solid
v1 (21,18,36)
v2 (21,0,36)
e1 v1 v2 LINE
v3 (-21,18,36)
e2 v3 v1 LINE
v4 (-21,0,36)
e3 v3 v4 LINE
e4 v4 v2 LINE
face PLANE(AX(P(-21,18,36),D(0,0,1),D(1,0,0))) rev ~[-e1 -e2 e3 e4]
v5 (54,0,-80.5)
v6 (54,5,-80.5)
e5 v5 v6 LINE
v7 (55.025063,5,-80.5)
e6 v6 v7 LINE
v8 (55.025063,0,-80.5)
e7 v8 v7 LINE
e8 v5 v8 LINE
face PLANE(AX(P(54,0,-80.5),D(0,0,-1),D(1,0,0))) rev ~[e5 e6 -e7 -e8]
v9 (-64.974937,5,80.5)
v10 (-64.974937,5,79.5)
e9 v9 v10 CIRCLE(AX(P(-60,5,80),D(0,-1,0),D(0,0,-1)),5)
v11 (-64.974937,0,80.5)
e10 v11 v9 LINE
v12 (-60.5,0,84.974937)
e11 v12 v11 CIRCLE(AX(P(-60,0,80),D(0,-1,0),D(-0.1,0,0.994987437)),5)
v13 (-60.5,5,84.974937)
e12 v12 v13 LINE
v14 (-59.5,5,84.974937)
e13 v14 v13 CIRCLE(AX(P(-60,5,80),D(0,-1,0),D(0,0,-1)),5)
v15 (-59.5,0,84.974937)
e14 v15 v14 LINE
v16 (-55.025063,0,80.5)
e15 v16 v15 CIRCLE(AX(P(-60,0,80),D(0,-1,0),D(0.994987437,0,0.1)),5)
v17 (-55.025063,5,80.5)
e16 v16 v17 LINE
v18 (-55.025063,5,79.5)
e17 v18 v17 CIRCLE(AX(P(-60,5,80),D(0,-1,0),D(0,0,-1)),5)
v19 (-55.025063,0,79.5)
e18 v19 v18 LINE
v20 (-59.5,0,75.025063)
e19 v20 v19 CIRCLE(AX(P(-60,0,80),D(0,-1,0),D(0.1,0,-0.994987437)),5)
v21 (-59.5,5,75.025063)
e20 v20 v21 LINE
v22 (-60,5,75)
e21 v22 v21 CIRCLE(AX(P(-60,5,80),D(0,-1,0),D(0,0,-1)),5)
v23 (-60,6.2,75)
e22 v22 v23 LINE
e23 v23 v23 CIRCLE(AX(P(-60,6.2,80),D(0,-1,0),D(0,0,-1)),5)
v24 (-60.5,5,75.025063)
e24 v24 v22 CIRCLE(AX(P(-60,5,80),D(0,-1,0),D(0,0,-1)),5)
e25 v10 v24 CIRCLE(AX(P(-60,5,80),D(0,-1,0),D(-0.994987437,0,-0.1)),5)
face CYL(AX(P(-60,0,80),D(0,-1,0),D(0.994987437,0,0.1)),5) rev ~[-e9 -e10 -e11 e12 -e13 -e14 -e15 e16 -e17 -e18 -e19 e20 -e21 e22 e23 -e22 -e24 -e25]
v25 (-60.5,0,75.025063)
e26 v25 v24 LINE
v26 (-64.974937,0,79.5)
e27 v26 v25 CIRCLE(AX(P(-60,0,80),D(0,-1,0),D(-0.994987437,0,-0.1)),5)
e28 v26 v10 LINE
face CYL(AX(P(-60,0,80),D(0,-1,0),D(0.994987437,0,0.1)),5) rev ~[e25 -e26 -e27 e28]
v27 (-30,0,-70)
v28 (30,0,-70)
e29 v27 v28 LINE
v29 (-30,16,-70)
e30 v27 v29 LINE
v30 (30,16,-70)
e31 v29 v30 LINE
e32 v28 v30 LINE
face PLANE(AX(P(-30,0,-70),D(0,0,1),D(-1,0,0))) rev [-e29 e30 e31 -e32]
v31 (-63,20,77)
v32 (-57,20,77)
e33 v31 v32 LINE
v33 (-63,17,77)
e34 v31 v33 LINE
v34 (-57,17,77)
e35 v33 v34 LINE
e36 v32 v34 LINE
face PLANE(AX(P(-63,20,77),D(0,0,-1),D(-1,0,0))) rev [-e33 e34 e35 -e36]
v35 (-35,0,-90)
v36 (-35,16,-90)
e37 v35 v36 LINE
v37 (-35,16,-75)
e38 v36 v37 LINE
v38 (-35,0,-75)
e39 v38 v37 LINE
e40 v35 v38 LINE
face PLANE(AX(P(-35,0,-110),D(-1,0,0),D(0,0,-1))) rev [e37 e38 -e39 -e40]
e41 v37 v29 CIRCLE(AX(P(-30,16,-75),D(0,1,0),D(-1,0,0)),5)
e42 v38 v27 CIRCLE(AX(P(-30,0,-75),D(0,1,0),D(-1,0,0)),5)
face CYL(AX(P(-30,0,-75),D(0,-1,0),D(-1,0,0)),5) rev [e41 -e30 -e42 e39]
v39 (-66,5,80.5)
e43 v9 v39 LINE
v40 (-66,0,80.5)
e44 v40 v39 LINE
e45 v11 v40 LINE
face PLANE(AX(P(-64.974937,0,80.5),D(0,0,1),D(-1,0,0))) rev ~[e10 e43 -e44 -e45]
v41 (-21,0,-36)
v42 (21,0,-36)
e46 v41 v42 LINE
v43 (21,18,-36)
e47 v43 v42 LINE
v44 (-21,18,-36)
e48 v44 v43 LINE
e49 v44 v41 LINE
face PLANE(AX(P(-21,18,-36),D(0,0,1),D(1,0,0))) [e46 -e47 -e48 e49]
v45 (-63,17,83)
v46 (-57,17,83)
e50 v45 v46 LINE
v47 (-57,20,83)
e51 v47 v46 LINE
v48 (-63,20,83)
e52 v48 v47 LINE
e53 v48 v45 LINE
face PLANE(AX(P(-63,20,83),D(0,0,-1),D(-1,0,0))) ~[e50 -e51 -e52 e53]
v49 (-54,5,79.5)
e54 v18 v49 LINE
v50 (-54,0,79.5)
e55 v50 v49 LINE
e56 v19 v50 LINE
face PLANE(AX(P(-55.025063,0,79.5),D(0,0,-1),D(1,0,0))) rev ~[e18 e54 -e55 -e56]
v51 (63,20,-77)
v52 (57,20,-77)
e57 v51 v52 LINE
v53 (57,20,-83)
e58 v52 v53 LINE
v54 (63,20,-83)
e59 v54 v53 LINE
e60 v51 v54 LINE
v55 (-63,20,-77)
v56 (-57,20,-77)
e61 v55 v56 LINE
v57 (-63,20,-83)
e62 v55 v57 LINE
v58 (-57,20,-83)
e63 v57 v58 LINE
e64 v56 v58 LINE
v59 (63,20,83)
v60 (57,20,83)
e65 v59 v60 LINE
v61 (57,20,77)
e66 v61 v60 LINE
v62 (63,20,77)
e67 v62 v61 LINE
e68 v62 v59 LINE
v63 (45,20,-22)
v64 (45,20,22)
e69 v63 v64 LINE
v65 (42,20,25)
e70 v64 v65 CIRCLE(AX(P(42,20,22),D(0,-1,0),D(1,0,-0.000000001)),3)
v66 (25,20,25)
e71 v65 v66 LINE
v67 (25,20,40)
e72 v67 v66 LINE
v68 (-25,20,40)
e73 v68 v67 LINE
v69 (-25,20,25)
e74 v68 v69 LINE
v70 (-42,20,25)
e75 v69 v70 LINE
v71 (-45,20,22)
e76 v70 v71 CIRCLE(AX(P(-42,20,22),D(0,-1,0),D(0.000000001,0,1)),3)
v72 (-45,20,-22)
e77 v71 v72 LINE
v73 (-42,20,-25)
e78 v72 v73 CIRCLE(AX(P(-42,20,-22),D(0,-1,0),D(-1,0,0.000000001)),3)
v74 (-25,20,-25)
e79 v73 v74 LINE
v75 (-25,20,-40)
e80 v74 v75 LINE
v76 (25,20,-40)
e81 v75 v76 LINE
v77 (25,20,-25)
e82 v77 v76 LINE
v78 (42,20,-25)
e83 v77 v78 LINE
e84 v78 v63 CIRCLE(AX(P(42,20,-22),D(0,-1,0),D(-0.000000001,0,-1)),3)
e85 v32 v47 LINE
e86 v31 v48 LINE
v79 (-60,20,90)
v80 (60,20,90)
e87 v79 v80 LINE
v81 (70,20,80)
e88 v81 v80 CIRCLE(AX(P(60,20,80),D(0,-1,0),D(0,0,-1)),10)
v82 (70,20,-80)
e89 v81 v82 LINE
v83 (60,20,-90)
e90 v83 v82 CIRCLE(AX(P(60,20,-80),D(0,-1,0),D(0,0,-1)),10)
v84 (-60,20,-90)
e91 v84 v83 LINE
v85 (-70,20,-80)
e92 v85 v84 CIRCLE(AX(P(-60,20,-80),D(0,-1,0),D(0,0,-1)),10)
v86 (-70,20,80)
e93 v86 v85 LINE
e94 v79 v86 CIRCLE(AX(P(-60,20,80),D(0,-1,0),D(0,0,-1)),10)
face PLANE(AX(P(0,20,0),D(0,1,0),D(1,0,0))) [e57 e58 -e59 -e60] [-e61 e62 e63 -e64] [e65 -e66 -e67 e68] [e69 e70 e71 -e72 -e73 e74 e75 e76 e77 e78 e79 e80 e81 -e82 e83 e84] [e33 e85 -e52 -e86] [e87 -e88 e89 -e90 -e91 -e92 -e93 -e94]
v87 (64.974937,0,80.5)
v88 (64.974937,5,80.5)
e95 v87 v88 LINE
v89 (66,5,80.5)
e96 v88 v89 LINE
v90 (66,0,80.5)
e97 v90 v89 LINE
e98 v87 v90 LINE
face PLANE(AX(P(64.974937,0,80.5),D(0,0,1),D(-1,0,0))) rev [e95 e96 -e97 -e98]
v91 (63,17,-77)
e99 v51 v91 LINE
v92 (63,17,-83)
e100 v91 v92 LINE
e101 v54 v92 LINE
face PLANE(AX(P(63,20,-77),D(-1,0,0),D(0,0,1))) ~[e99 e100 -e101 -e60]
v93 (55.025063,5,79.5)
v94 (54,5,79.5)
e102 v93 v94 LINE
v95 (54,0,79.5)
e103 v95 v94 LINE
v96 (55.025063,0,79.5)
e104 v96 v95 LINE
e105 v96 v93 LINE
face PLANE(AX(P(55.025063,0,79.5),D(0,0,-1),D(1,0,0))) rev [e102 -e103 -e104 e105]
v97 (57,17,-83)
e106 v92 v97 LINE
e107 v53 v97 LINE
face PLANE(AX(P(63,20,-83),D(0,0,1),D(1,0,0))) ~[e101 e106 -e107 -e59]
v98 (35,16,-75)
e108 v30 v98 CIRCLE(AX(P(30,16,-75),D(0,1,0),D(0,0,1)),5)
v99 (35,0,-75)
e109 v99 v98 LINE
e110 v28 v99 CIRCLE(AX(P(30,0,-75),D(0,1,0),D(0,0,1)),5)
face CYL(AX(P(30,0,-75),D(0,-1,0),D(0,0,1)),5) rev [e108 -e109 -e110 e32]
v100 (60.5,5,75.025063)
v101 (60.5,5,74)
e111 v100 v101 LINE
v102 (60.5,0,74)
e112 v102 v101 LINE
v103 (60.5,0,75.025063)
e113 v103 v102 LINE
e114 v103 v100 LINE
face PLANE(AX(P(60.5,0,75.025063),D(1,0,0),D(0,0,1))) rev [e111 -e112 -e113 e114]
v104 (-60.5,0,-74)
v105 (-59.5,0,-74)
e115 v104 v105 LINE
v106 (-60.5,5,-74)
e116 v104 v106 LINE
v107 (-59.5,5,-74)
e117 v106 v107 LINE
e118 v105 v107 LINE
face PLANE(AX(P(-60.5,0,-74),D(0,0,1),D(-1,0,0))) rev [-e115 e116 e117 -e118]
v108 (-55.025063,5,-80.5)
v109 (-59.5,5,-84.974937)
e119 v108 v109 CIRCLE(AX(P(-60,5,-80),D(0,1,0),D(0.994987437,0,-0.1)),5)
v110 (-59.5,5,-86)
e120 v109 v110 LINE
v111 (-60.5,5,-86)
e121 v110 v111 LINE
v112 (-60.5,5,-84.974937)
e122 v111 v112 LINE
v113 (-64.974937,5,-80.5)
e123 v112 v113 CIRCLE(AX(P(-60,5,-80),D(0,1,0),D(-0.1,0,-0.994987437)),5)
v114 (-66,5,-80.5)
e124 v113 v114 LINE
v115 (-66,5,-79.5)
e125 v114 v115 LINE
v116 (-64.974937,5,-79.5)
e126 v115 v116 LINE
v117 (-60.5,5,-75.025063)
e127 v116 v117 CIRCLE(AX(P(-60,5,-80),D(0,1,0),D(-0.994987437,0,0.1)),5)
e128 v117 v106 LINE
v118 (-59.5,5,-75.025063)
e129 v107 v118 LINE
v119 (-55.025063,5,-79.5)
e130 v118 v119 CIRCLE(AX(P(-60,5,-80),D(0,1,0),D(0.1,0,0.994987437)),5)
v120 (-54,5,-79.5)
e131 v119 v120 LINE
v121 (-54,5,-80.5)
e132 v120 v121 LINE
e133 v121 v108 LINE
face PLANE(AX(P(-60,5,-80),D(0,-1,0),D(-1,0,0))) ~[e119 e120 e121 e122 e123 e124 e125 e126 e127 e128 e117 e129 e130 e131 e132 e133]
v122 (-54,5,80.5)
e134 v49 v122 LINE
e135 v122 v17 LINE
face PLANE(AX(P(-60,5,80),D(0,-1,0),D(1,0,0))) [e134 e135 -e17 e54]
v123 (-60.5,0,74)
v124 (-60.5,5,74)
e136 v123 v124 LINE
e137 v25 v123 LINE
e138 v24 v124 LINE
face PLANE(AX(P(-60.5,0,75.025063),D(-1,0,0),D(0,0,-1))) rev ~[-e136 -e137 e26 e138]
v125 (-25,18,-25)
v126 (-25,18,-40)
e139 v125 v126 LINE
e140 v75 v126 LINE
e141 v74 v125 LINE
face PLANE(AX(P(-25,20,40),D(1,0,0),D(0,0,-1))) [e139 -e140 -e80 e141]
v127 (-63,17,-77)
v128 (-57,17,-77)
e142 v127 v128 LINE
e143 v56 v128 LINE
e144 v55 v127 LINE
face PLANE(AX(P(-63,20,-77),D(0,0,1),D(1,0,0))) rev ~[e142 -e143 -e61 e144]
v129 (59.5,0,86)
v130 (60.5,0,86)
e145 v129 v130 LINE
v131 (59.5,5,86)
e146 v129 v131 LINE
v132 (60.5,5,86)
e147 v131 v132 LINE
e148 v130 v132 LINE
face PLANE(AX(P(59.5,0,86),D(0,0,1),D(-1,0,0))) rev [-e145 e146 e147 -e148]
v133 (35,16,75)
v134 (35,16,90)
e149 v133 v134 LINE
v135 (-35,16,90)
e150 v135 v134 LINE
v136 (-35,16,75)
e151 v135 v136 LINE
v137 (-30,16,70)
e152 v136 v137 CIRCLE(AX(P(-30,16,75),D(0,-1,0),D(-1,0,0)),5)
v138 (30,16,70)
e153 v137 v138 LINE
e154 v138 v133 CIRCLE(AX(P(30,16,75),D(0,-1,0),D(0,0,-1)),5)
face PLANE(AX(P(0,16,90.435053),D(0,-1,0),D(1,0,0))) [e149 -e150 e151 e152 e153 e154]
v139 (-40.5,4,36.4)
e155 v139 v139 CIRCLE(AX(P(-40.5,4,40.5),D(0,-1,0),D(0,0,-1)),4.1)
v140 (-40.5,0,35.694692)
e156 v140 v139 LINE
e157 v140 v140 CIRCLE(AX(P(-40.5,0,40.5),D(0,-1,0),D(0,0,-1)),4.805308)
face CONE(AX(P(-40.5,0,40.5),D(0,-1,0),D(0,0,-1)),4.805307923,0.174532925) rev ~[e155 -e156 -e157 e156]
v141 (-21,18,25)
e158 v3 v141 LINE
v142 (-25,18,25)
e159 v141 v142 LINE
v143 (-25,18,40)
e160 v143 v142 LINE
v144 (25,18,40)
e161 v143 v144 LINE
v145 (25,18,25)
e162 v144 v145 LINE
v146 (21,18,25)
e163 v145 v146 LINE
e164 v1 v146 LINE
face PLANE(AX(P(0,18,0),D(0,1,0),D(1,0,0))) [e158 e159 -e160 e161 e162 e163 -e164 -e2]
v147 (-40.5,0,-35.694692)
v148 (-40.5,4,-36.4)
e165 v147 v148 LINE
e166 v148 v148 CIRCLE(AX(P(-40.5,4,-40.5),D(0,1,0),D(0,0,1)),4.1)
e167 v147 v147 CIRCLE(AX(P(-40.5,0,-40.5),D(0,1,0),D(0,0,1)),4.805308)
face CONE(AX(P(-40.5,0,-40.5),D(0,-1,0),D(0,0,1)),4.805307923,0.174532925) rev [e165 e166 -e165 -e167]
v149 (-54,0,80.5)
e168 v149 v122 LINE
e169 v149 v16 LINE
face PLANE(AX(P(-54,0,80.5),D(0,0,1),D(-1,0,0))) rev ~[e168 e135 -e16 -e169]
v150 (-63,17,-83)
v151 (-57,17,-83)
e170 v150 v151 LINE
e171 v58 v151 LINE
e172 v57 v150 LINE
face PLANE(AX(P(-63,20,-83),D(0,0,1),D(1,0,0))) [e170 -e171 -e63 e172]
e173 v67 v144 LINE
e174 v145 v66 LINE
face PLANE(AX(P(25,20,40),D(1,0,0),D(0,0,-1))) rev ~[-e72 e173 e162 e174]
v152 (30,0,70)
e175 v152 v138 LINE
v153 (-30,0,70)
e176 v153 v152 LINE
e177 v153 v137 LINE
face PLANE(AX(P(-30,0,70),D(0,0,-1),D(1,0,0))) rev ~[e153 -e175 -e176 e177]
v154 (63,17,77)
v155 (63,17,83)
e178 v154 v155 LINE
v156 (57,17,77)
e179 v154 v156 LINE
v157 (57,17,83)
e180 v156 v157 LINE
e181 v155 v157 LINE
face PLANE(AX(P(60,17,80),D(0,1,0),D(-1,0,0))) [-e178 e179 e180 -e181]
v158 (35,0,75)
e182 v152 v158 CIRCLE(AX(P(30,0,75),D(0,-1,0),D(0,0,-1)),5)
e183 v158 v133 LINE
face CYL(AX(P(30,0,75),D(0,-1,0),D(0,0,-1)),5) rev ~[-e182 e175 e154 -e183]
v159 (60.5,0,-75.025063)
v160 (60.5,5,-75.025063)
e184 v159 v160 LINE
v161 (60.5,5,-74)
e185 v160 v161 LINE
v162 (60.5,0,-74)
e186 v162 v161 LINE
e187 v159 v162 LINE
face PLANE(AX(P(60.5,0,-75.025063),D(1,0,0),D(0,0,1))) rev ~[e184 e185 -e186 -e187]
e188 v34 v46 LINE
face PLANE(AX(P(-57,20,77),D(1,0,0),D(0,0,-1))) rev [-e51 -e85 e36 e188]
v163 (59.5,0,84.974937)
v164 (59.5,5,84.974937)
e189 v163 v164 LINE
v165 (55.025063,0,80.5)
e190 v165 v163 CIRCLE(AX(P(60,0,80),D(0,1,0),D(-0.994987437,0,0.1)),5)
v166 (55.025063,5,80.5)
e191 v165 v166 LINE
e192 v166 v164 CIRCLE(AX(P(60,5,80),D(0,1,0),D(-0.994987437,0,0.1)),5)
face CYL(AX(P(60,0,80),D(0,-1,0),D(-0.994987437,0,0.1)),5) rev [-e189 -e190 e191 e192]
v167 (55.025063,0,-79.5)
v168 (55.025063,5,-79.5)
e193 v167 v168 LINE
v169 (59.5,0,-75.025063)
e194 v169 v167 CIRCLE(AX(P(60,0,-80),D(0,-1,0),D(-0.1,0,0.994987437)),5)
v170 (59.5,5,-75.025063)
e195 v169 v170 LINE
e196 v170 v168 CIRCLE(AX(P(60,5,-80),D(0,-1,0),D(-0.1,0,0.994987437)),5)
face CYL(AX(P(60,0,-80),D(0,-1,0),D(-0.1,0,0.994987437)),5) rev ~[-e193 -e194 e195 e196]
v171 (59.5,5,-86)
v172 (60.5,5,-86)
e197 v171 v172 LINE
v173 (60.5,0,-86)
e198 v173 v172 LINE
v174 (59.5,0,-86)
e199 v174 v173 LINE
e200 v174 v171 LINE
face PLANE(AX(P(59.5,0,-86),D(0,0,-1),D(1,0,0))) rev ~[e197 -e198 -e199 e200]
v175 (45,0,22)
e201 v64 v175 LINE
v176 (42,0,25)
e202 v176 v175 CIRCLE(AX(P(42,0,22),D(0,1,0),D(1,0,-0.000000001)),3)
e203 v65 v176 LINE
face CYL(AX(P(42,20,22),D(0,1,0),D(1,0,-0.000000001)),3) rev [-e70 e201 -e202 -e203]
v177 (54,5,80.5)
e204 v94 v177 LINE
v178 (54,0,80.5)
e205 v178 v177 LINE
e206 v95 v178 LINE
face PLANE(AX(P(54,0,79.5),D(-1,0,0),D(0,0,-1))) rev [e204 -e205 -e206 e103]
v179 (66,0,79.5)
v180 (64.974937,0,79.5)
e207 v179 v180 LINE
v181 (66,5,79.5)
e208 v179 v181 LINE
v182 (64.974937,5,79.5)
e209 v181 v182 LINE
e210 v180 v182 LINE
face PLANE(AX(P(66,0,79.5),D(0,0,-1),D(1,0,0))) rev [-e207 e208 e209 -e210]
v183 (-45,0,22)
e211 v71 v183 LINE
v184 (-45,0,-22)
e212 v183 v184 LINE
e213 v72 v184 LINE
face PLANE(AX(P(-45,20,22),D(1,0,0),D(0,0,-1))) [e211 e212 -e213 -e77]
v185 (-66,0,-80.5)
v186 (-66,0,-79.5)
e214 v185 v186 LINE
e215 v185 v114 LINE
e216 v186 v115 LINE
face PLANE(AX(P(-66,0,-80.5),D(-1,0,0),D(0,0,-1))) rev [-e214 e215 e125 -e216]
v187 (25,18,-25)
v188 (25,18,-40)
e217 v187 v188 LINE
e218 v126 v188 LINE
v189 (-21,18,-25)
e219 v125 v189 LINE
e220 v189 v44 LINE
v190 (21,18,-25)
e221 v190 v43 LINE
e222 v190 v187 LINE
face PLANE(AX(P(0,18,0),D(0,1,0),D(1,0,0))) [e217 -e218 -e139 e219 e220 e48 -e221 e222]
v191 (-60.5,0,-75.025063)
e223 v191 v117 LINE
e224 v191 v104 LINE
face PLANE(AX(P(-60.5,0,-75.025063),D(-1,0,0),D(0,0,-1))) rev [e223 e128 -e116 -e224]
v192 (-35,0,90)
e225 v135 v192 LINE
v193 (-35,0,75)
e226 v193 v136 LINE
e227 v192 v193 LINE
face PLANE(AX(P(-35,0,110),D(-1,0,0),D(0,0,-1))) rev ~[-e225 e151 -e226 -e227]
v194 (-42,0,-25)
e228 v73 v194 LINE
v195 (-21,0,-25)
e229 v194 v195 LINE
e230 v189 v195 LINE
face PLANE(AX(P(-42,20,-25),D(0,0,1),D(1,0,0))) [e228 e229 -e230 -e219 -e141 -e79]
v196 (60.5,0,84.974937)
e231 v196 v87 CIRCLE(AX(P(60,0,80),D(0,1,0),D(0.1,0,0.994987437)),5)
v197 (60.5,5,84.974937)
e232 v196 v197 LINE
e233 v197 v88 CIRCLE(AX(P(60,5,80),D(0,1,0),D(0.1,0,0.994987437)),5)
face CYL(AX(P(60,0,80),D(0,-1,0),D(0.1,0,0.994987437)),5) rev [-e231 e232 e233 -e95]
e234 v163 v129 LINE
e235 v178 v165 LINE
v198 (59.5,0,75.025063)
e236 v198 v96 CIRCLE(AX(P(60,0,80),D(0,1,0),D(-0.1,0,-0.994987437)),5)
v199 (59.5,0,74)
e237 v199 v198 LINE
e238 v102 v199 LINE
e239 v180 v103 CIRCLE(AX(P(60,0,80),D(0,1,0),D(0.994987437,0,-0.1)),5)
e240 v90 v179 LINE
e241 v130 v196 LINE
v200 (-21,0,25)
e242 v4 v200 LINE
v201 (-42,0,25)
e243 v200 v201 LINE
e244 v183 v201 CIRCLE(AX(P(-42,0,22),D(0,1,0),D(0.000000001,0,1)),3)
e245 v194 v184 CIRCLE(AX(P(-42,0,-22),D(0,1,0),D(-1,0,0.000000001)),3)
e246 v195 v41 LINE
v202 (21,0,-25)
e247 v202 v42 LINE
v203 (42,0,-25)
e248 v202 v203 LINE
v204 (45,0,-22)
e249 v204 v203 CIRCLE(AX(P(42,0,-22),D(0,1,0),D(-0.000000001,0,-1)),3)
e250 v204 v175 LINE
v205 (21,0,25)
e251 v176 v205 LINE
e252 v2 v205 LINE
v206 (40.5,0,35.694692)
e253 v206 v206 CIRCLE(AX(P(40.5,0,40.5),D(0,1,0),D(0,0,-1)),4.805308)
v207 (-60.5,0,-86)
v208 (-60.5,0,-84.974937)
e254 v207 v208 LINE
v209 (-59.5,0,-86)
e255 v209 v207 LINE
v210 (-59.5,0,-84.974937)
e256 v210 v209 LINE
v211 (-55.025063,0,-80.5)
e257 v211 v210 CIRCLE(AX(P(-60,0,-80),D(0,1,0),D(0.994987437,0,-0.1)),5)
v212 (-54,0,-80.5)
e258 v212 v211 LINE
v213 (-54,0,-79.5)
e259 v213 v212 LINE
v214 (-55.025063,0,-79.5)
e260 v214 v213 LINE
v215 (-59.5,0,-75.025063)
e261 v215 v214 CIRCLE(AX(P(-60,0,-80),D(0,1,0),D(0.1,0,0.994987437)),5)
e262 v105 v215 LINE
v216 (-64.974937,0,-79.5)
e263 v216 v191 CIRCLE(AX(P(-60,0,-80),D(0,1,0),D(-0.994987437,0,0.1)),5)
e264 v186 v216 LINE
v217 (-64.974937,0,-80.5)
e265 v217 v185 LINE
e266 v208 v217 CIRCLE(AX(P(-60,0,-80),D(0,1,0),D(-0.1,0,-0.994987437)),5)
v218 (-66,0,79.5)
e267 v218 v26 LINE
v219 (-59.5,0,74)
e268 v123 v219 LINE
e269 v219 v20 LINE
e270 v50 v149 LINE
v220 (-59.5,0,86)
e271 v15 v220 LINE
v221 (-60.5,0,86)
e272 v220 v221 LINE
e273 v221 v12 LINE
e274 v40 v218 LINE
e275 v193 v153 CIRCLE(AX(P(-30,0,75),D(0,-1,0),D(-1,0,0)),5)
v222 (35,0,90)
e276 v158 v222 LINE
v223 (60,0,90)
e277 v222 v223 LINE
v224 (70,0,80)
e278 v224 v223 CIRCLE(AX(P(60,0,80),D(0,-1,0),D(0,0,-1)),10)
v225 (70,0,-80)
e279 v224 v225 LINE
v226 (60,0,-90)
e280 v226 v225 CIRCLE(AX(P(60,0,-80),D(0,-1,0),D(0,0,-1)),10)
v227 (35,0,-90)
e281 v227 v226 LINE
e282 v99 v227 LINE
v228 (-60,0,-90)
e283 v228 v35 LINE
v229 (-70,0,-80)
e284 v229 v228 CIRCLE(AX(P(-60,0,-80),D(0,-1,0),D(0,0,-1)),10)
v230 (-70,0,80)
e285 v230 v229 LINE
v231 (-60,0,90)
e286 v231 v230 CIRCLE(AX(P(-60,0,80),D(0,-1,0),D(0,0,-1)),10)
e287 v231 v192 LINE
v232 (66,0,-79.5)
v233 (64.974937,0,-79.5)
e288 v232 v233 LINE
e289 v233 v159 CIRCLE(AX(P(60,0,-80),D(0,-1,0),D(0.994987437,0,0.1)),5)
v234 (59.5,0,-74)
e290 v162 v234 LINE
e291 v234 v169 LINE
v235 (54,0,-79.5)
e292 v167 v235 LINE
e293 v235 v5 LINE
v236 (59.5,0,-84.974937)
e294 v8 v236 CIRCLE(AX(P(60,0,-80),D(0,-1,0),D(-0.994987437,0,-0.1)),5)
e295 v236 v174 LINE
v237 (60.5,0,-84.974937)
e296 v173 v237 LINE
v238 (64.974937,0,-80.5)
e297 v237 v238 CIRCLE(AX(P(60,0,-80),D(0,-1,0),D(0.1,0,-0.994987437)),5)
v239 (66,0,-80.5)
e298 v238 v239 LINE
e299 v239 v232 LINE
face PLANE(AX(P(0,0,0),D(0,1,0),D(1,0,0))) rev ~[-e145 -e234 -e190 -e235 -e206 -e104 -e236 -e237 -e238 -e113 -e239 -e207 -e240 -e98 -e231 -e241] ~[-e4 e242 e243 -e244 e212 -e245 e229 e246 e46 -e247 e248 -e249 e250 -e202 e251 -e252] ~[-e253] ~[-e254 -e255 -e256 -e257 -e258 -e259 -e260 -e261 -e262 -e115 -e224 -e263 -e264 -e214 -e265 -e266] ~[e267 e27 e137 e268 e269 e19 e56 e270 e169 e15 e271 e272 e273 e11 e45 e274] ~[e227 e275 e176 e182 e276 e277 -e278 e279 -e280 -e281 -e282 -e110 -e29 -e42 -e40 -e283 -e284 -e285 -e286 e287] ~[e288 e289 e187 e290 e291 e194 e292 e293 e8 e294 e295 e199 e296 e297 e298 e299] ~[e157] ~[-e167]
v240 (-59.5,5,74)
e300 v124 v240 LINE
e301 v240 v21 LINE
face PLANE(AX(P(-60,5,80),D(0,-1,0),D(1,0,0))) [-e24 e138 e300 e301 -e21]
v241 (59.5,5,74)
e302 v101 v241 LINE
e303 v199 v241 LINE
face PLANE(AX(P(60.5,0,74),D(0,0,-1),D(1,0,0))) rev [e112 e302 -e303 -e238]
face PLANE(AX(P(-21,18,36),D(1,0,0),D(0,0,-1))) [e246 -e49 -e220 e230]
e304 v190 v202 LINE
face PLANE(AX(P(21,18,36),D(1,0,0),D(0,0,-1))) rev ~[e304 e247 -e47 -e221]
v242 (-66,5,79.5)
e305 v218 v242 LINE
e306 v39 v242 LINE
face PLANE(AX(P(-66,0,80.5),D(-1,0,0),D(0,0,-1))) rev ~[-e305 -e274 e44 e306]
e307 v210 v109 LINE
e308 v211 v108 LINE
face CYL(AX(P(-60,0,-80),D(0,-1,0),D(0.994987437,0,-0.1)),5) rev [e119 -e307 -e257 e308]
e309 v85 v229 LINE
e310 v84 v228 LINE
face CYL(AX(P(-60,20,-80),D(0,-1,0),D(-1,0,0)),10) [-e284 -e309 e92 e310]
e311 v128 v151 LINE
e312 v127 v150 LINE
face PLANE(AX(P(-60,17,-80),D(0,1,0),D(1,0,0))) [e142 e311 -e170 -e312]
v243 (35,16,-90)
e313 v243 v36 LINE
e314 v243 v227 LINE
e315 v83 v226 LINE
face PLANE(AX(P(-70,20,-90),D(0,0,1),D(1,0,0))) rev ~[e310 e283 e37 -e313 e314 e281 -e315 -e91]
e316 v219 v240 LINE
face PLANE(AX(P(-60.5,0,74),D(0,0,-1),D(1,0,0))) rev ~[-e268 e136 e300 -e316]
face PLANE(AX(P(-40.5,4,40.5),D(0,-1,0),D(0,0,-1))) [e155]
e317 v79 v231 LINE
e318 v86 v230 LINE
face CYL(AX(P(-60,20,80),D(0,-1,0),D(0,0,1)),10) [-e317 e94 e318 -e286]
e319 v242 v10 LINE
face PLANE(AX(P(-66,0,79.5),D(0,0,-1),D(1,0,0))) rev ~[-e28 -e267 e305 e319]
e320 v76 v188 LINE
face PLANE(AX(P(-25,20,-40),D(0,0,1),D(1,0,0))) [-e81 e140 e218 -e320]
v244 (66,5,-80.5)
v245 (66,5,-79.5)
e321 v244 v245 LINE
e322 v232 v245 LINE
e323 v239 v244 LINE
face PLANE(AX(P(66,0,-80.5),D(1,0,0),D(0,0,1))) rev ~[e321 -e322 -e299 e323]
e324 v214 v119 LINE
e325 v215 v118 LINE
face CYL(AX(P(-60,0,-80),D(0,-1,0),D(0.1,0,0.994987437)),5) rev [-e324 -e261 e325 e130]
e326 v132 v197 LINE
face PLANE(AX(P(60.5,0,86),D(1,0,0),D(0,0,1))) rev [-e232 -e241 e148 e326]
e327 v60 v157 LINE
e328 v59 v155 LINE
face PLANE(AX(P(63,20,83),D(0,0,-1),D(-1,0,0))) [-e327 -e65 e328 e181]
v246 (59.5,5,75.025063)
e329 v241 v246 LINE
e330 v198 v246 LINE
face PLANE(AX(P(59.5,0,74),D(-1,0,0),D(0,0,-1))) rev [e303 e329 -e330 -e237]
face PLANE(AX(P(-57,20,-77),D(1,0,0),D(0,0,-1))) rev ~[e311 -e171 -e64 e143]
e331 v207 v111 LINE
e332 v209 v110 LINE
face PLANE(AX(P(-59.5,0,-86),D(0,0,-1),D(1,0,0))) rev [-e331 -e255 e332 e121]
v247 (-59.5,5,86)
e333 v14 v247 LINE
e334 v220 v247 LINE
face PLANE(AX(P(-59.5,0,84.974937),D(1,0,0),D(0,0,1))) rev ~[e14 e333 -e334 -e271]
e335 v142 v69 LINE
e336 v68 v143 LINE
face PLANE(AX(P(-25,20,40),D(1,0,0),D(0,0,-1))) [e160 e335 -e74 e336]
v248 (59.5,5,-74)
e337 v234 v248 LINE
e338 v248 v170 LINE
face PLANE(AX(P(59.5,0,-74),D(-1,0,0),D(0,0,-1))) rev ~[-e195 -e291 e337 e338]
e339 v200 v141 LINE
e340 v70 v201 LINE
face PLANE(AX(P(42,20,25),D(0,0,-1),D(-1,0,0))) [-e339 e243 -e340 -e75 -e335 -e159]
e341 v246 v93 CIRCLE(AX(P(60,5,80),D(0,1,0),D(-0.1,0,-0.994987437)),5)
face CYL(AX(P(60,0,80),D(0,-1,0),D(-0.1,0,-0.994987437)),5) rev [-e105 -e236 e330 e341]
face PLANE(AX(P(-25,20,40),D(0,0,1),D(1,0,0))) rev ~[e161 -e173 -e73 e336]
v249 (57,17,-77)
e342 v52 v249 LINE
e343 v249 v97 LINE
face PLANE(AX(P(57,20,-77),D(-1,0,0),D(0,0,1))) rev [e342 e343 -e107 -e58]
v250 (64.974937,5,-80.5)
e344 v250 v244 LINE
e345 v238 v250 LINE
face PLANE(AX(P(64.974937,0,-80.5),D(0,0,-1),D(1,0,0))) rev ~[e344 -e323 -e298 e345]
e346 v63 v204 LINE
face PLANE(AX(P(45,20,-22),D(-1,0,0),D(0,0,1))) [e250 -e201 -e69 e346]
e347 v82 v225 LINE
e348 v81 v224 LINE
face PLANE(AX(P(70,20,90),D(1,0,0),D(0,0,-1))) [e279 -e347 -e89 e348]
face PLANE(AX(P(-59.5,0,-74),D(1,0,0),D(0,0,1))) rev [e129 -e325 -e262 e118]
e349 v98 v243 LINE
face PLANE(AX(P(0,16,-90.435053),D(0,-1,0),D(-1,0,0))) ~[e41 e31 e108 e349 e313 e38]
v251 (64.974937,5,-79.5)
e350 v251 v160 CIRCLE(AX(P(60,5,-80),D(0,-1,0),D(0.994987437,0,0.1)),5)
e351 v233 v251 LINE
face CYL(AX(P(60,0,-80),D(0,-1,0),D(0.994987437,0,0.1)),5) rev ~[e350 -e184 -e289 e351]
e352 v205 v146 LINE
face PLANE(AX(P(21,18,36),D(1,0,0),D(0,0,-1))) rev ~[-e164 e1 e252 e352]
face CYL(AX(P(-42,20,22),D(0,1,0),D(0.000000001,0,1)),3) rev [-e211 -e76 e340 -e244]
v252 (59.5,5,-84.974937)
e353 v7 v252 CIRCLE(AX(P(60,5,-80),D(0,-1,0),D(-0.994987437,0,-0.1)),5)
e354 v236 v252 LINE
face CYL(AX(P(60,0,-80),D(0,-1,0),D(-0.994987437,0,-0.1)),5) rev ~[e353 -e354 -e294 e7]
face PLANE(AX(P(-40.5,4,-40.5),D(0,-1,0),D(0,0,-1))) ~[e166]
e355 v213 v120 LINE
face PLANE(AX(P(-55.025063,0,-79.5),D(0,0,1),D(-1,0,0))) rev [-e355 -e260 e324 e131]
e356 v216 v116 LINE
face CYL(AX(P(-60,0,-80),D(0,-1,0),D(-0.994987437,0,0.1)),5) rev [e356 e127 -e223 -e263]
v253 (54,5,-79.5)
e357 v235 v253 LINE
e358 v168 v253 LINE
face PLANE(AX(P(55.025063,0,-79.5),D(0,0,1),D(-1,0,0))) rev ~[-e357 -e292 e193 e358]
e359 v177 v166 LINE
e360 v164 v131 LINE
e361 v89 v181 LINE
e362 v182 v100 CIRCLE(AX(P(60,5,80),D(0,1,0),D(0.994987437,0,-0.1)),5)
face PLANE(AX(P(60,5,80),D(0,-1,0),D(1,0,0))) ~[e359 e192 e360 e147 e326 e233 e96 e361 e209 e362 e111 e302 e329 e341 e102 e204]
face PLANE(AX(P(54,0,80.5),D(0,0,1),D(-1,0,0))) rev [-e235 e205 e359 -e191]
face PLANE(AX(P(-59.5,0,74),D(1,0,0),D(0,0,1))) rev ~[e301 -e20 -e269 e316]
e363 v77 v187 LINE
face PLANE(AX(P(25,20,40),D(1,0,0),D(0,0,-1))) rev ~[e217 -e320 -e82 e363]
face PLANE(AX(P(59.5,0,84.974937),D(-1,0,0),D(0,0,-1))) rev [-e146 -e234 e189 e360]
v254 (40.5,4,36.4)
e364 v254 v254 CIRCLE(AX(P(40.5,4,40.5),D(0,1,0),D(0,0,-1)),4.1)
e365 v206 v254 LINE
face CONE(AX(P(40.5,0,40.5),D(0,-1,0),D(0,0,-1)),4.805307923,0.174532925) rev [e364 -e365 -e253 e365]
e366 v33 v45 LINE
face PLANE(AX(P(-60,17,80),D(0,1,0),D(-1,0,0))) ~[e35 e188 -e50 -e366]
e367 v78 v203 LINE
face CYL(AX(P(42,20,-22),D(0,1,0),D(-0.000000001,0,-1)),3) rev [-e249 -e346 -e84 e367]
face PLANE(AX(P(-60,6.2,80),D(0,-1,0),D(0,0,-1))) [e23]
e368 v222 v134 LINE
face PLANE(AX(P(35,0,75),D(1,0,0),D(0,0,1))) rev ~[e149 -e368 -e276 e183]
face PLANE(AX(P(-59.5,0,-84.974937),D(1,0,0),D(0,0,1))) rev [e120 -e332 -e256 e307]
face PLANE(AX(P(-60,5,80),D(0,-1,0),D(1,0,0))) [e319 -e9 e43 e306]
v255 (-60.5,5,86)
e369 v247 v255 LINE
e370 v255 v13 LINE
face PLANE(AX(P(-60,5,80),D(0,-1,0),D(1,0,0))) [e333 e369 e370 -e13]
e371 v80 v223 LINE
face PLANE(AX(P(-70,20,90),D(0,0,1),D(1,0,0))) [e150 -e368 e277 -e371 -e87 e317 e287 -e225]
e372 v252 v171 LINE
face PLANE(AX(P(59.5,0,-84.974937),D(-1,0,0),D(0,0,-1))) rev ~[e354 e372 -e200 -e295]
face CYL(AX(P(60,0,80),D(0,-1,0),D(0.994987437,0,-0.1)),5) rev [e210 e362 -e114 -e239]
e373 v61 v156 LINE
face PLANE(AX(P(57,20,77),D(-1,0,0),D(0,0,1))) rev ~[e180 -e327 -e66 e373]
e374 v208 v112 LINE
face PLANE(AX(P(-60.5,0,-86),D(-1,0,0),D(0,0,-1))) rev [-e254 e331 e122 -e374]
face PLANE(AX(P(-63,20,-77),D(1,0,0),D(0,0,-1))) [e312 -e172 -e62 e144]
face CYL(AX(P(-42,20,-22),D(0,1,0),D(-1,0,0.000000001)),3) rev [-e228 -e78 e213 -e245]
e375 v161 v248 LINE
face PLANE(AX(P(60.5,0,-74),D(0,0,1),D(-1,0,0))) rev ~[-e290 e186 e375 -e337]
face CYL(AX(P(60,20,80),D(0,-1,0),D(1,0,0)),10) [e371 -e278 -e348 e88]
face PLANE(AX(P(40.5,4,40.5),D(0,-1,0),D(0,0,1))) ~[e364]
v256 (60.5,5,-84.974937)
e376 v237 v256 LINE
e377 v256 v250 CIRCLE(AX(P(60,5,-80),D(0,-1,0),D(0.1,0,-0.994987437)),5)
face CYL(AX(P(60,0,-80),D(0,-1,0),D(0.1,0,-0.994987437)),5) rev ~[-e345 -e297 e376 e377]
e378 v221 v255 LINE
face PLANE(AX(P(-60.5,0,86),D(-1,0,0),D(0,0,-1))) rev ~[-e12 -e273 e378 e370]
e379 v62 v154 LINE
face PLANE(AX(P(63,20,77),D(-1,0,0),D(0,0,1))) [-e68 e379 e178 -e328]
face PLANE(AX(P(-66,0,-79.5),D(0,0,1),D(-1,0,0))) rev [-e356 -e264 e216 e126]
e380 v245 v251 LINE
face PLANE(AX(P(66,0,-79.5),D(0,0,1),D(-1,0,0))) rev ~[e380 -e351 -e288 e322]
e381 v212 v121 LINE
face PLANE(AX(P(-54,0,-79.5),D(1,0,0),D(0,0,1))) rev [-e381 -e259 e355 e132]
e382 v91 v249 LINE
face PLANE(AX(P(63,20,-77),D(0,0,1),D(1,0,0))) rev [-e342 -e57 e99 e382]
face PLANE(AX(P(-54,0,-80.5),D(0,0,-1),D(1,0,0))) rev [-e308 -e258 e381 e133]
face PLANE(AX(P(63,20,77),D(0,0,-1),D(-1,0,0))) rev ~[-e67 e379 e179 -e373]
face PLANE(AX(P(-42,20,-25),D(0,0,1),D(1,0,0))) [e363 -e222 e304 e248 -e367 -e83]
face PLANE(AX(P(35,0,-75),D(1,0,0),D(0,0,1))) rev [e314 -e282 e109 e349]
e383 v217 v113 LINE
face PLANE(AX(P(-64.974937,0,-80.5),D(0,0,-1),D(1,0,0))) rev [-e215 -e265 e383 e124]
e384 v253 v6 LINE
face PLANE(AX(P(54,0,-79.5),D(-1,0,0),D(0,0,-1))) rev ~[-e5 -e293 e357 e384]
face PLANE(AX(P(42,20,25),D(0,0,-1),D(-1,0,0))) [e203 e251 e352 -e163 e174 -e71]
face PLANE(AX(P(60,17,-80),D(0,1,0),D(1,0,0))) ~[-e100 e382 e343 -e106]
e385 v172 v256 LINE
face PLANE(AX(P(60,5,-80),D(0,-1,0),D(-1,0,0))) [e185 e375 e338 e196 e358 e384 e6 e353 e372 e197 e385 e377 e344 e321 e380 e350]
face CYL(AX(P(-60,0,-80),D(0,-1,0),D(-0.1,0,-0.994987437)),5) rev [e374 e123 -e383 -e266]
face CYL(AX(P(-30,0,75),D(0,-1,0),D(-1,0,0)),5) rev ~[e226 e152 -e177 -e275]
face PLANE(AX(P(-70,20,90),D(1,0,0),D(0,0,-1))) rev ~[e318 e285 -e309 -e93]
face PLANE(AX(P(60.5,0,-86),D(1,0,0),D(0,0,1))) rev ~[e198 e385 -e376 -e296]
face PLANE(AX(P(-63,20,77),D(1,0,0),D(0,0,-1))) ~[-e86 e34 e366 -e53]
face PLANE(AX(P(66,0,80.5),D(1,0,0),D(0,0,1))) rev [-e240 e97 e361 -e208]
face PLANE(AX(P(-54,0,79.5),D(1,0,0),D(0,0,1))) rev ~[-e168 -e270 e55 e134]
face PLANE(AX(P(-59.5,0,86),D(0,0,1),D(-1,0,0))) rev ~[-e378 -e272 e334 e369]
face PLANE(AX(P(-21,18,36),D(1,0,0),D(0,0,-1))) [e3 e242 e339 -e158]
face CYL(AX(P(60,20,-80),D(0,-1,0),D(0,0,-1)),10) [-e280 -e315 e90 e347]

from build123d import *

# Parameters (mm, degrees)
SKETCH_1_W                                 = 200
SKETCH_1_H                                 = 200
EXTRUDE_1_DEPTH                            = 20
SKETCH_2_W                                 = 200
SKETCH_2_H                                 = 200
SKETCH_2_W_2                               = 140
SKETCH_2_H_2                               = 180
CUT_EXTRUDE_2_DEPTH                        = 143.828568571
FILLET_1_R                                 = 10
FILLET_2_R                                 = 10
FILLET_3_R                                 = 10
FILLET_4_R                                 = 10
CUT_EXTRUDE_4_DEPTH                        = 5
MIRROR_3_AT_THE_SECOND_PLANE_COPY_1_DEPTH  = 5
SKETCH_5_R                                 = 5
CUT_EXTRUDE_5_DEPTH                        = 6.2
CUT_EXTRUDE_7_DEPTH                        = 16
SKETCH_8_R                                 = 4.1
CUT_EXTRUDE_8_DEPTH                        = 4
DRAFT_2_ANGLE                              = 10
DRAFT_2_OF_MIRROR_10_2_ANGLE               = 10
DRAFT_2_OF_MIRROR_11_2_ANGLE               = 10
SKETCH_14_W                                = 6
SKETCH_14_H                                = 6
CUT_EXTRUDE_9_DEPTH                        = 3
MIRROR_12_AT_THE_SECOND_PLANE_COPY_1_SKE_W = 6
MIRROR_12_AT_THE_SECOND_PLANE_COPY_1_SKE_H = 6
MIRROR_12_AT_THE_SECOND_PLANE_COPY_1_DEPTH = 3
SKETCH_15_W                                = 50
SKETCH_15_H                                = 80
CUT_EXTRUDE_10_DEPTH                       = 2
SKETCH_16_W                                = 42
SKETCH_16_H                                = 72
CUT_EXTRUDE_11_DEPTH                       = 116.429632244
CUT_EXTRUDE_12_DEPTH                       = 116.758369028


with BuildPart() as part:
    # 草图1 → 凸台-拉伸1 (new body)
    with BuildSketch(Plane(origin=(0, 0, 0), x_dir=(1, 0, 0), z_dir=(0, 1, 0))):
        Rectangle(SKETCH_1_W, SKETCH_1_H)
    extrude(amount=EXTRUDE_1_DEPTH)

    # 草图2 → 切除-拉伸2 (cut, through all)
    with BuildSketch(Plane(origin=(0, 20, 0), x_dir=(1, 0, 0), z_dir=(0, 1, 0))):
        Rectangle(SKETCH_2_W, SKETCH_2_H)
        Rectangle(SKETCH_2_W_2, SKETCH_2_H_2, mode=Mode.SUBTRACT)
    extrude(amount=-CUT_EXTRUDE_2_DEPTH, mode=Mode.SUBTRACT)

    # 圆角1
    fillet_1_edges = [part.edges().sort_by_distance(p)[0] for p in [
        (-70, 10, -90),
    ]]
    fillet(fillet_1_edges, radius=FILLET_1_R)

    # 圆角2
    fillet_2_edges = [part.edges().sort_by_distance(p)[0] for p in [
        (70, 10, -90),
    ]]
    fillet(fillet_2_edges, radius=FILLET_2_R)

    # 圆角3
    fillet_3_edges = [part.edges().sort_by_distance(p)[0] for p in [
        (70, 10, 90),
    ]]
    fillet(fillet_3_edges, radius=FILLET_3_R)

    # 圆角4
    fillet_4_edges = [part.edges().sort_by_distance(p)[0] for p in [
        (-70, 10, 90),
    ]]
    fillet(fillet_4_edges, radius=FILLET_4_R)

    # 草图4 → 切除-拉伸4 (cut)
    with BuildSketch(Plane.XZ):
        with BuildLine():
            Line((-59.5, 84.974937186), (-59.5, 86))
            Line((-59.5, 86), (-60.5, 86))
            Line((-60.5, 86), (-60.5, 84.974937186))
            ThreePointArc((-60.5, 84.974937186), (-63.535533906, 83.535533906), (-64.974937186, 80.5))
            Line((-64.974937186, 80.5), (-66, 80.5))
            Line((-66, 80.5), (-66, 79.5))
            Line((-66, 79.5), (-64.974937186, 79.5))
            ThreePointArc((-64.974937186, 79.5), (-63.535533906, 76.464466094), (-60.5, 75.025062814))
            Line((-60.5, 75.025062814), (-60.5, 74))
            Line((-60.5, 74), (-59.5, 74))
            Line((-59.5, 74), (-59.5, 75.025062814))
            ThreePointArc((-59.5, 75.025062814), (-56.464466094, 76.464466094), (-55.025062814, 79.5))
            Line((-55.025062814, 79.5), (-54, 79.5))
            Line((-54, 79.5), (-54, 80.5))
            Line((-54, 80.5), (-55.025062814, 80.5))
            ThreePointArc((-55.025062814, 80.5), (-56.464466094, 83.535533906), (-59.5, 84.974937186))
        make_face()
    cut_extrude_4 = extrude(amount=-CUT_EXTRUDE_4_DEPTH, mode=Mode.SUBTRACT)

    # 镜向3: 切除-拉伸4 across plane
    add(cut_extrude_4.mirror(Plane(origin=(0, 0, 0), x_dir=(0, 0, 1), z_dir=(1, 0, 0))), mode=Mode.SUBTRACT)

    # 镜向3 at the second plane: 切除-拉伸4 across plane
    add(cut_extrude_4.mirror(Plane.XY), mode=Mode.SUBTRACT)

    # 镜向3 at the second plane copy 1 sket → 镜向3 at the second plane copy 1 (cut)
    with BuildSketch(Plane(origin=(0, 0, 0), x_dir=(-1, 0, 0), z_dir=(0, -1, 0))):
        with BuildLine():
            Line((-59.5, 84.974937186), (-59.5, 86))
            Line((-59.5, 86), (-60.5, 86))
            Line((-60.5, 86), (-60.5, 84.974937186))
            ThreePointArc((-60.5, 84.974937186), (-63.535533906, 83.535533906), (-64.974937186, 80.5))
            Line((-64.974937186, 80.5), (-66, 80.5))
            Line((-66, 80.5), (-66, 79.5))
            Line((-66, 79.5), (-64.974937186, 79.5))
            ThreePointArc((-64.974937186, 79.5), (-63.535533906, 76.464466094), (-60.5, 75.025062814))
            Line((-60.5, 75.025062814), (-60.5, 74))
            Line((-60.5, 74), (-59.5, 74))
            Line((-59.5, 74), (-59.5, 75.025062814))
            ThreePointArc((-59.5, 75.025062814), (-56.464466094, 76.464466094), (-55.025062814, 79.5))
            Line((-55.025062814, 79.5), (-54, 79.5))
            Line((-54, 79.5), (-54, 80.5))
            Line((-54, 80.5), (-55.025062814, 80.5))
            ThreePointArc((-55.025062814, 80.5), (-56.464466094, 83.535533906), (-59.5, 84.974937186))
        make_face()
    extrude(amount=-MIRROR_3_AT_THE_SECOND_PLANE_COPY_1_DEPTH, mode=Mode.SUBTRACT)

    # 草图5 → 切除-拉伸5 (cut)
    with BuildSketch(Plane.XZ):
        with Locations(Location((-60, 80, 0), (0, 0, 270))):
            Circle(SKETCH_5_R)
    extrude(amount=-CUT_EXTRUDE_5_DEPTH, mode=Mode.SUBTRACT)

    # 草图7 → 切除-拉伸7 (cut)
    with BuildSketch(Plane.XZ):
        with BuildLine():
            Line((35, 110), (-35, 110))
            Line((-35, 110), (-35, 75))
            ThreePointArc((-35, 75), (-33.535533906, 71.464466094), (-30, 70))
            Line((-30, 70), (30, 70))
            ThreePointArc((30, 70), (33.535533906, 71.464466094), (35, 75))
            Line((35, 75), (35, 110))
        make_face()
    cut_extrude_7 = extrude(amount=-CUT_EXTRUDE_7_DEPTH, mode=Mode.SUBTRACT)

    # 镜向6: 切除-拉伸7 across plane
    add(cut_extrude_7.mirror(Plane.XY), mode=Mode.SUBTRACT)

    # 草图8 → 切除-拉伸8 (cut)
    with BuildSketch(Plane.XZ):
        with Locations(Location((-40.5, 40.5, 0), (0, 0, 270))):
            Circle(SKETCH_8_R)
    cut_extrude_8 = extrude(amount=-CUT_EXTRUDE_8_DEPTH, mode=Mode.SUBTRACT)

    # 拔模2
    draft_2_faces = [part.faces().sort_by_distance(p)[0] for p in [
        (-40.5, 2, 44.6),
    ]]
    draft(draft_2_faces, Plane(origin=(-40.5, 4, 40.5), x_dir=(0, 0, -1), z_dir=(0, -1, 0)), DRAFT_2_ANGLE)

    # 镜向10: 切除-拉伸8 across plane
    add(cut_extrude_8.mirror(Plane(origin=(0, 0, 0), x_dir=(0, 0, 1), z_dir=(1, 0, 0))), mode=Mode.SUBTRACT)

    # 拔模2 of Mirror 10 2
    draft_2_of_mirror_10_2_faces = [part.faces().sort_by_distance(p)[0] for p in [
        (40.5, 2, 44.6),
    ]]
    draft(draft_2_of_mirror_10_2_faces, Plane(origin=(40.5, 4, 40.5), x_dir=(0, 0, -1), z_dir=(0, -1, 0)), DRAFT_2_OF_MIRROR_10_2_ANGLE)

    # 镜向11: 切除-拉伸8 across plane
    add(cut_extrude_8.mirror(Plane.XY), mode=Mode.SUBTRACT)

    # 拔模2 of Mirror 11 2
    draft_2_of_mirror_11_2_faces = [part.faces().sort_by_distance(p)[0] for p in [
        (-40.5, 2, -44.6),
    ]]
    draft(draft_2_of_mirror_11_2_faces, Plane(origin=(-40.5, 4, -40.5), x_dir=(0, 0, 1), z_dir=(0, -1, 0)), DRAFT_2_OF_MIRROR_11_2_ANGLE)

    # 草图14 → 切除-拉伸9 (cut)
    with BuildSketch(Plane(origin=(0, 20, 0), x_dir=(1, 0, 0), z_dir=(0, 1, 0))):
        with Locations((-60, 80)):
            Rectangle(SKETCH_14_W, SKETCH_14_H)
    cut_extrude_9 = extrude(amount=-CUT_EXTRUDE_9_DEPTH, mode=Mode.SUBTRACT)

    # 镜向12: 切除-拉伸9 across plane
    add(cut_extrude_9.mirror(Plane(origin=(0, 0, 0), x_dir=(0, 0, 1), z_dir=(1, 0, 0))), mode=Mode.SUBTRACT)

    # 镜向12 at the second plane: 切除-拉伸9 across plane
    add(cut_extrude_9.mirror(Plane.XY), mode=Mode.SUBTRACT)

    # 镜向12 at the second plane copy 1 ske → 镜向12 at the second plane copy 1 (cut)
    with BuildSketch(Plane(origin=(0, 20, 0), x_dir=(-1, 0, 0), z_dir=(0, 1, 0))):
        with Locations((-60, 80)):
            Rectangle(MIRROR_12_AT_THE_SECOND_PLANE_COPY_1_SKE_W, MIRROR_12_AT_THE_SECOND_PLANE_COPY_1_SKE_H)
    extrude(amount=-MIRROR_12_AT_THE_SECOND_PLANE_COPY_1_DEPTH, mode=Mode.SUBTRACT)

    # 草图15 → 切除-拉伸10 (cut)
    with BuildSketch(Plane(origin=(0, 20, 0), x_dir=(1, 0, 0), z_dir=(0, 1, 0))):
        Rectangle(SKETCH_15_W, SKETCH_15_H)
    extrude(amount=-CUT_EXTRUDE_10_DEPTH, mode=Mode.SUBTRACT)

    # 草图16 → 切除-拉伸11 (cut, through all)
    with BuildSketch(Plane(origin=(0, 18, 0), x_dir=(1, 0, 0), z_dir=(0, 1, 0))):
        Rectangle(SKETCH_16_W, SKETCH_16_H)
    extrude(amount=-CUT_EXTRUDE_11_DEPTH, mode=Mode.SUBTRACT)

    # 草图17 → 切除-拉伸12 (cut, through all)
    with BuildSketch(Plane(origin=(0, 20, 0), x_dir=(1, 0, 0), z_dir=(0, 1, 0))):
        with BuildLine():
            Line((42, -25), (-42, -25))
            ThreePointArc((-42, -25), (-44.121320344, -24.121320344), (-45, -22))
            Line((-45, -22), (-45, 22))
            ThreePointArc((-45, 22), (-44.121320344, 24.121320344), (-42, 25))
            Line((-42, 25), (42, 25))
            ThreePointArc((42, 25), (44.121320344, 24.121320344), (45, 22))
            Line((45, 22), (45, -22))
            ThreePointArc((45, -22), (44.121320344, -24.121320344), (42, -25))
        make_face()
    extrude(amount=-CUT_EXTRUDE_12_DEPTH, mode=Mode.SUBTRACT)


solid = part.part
